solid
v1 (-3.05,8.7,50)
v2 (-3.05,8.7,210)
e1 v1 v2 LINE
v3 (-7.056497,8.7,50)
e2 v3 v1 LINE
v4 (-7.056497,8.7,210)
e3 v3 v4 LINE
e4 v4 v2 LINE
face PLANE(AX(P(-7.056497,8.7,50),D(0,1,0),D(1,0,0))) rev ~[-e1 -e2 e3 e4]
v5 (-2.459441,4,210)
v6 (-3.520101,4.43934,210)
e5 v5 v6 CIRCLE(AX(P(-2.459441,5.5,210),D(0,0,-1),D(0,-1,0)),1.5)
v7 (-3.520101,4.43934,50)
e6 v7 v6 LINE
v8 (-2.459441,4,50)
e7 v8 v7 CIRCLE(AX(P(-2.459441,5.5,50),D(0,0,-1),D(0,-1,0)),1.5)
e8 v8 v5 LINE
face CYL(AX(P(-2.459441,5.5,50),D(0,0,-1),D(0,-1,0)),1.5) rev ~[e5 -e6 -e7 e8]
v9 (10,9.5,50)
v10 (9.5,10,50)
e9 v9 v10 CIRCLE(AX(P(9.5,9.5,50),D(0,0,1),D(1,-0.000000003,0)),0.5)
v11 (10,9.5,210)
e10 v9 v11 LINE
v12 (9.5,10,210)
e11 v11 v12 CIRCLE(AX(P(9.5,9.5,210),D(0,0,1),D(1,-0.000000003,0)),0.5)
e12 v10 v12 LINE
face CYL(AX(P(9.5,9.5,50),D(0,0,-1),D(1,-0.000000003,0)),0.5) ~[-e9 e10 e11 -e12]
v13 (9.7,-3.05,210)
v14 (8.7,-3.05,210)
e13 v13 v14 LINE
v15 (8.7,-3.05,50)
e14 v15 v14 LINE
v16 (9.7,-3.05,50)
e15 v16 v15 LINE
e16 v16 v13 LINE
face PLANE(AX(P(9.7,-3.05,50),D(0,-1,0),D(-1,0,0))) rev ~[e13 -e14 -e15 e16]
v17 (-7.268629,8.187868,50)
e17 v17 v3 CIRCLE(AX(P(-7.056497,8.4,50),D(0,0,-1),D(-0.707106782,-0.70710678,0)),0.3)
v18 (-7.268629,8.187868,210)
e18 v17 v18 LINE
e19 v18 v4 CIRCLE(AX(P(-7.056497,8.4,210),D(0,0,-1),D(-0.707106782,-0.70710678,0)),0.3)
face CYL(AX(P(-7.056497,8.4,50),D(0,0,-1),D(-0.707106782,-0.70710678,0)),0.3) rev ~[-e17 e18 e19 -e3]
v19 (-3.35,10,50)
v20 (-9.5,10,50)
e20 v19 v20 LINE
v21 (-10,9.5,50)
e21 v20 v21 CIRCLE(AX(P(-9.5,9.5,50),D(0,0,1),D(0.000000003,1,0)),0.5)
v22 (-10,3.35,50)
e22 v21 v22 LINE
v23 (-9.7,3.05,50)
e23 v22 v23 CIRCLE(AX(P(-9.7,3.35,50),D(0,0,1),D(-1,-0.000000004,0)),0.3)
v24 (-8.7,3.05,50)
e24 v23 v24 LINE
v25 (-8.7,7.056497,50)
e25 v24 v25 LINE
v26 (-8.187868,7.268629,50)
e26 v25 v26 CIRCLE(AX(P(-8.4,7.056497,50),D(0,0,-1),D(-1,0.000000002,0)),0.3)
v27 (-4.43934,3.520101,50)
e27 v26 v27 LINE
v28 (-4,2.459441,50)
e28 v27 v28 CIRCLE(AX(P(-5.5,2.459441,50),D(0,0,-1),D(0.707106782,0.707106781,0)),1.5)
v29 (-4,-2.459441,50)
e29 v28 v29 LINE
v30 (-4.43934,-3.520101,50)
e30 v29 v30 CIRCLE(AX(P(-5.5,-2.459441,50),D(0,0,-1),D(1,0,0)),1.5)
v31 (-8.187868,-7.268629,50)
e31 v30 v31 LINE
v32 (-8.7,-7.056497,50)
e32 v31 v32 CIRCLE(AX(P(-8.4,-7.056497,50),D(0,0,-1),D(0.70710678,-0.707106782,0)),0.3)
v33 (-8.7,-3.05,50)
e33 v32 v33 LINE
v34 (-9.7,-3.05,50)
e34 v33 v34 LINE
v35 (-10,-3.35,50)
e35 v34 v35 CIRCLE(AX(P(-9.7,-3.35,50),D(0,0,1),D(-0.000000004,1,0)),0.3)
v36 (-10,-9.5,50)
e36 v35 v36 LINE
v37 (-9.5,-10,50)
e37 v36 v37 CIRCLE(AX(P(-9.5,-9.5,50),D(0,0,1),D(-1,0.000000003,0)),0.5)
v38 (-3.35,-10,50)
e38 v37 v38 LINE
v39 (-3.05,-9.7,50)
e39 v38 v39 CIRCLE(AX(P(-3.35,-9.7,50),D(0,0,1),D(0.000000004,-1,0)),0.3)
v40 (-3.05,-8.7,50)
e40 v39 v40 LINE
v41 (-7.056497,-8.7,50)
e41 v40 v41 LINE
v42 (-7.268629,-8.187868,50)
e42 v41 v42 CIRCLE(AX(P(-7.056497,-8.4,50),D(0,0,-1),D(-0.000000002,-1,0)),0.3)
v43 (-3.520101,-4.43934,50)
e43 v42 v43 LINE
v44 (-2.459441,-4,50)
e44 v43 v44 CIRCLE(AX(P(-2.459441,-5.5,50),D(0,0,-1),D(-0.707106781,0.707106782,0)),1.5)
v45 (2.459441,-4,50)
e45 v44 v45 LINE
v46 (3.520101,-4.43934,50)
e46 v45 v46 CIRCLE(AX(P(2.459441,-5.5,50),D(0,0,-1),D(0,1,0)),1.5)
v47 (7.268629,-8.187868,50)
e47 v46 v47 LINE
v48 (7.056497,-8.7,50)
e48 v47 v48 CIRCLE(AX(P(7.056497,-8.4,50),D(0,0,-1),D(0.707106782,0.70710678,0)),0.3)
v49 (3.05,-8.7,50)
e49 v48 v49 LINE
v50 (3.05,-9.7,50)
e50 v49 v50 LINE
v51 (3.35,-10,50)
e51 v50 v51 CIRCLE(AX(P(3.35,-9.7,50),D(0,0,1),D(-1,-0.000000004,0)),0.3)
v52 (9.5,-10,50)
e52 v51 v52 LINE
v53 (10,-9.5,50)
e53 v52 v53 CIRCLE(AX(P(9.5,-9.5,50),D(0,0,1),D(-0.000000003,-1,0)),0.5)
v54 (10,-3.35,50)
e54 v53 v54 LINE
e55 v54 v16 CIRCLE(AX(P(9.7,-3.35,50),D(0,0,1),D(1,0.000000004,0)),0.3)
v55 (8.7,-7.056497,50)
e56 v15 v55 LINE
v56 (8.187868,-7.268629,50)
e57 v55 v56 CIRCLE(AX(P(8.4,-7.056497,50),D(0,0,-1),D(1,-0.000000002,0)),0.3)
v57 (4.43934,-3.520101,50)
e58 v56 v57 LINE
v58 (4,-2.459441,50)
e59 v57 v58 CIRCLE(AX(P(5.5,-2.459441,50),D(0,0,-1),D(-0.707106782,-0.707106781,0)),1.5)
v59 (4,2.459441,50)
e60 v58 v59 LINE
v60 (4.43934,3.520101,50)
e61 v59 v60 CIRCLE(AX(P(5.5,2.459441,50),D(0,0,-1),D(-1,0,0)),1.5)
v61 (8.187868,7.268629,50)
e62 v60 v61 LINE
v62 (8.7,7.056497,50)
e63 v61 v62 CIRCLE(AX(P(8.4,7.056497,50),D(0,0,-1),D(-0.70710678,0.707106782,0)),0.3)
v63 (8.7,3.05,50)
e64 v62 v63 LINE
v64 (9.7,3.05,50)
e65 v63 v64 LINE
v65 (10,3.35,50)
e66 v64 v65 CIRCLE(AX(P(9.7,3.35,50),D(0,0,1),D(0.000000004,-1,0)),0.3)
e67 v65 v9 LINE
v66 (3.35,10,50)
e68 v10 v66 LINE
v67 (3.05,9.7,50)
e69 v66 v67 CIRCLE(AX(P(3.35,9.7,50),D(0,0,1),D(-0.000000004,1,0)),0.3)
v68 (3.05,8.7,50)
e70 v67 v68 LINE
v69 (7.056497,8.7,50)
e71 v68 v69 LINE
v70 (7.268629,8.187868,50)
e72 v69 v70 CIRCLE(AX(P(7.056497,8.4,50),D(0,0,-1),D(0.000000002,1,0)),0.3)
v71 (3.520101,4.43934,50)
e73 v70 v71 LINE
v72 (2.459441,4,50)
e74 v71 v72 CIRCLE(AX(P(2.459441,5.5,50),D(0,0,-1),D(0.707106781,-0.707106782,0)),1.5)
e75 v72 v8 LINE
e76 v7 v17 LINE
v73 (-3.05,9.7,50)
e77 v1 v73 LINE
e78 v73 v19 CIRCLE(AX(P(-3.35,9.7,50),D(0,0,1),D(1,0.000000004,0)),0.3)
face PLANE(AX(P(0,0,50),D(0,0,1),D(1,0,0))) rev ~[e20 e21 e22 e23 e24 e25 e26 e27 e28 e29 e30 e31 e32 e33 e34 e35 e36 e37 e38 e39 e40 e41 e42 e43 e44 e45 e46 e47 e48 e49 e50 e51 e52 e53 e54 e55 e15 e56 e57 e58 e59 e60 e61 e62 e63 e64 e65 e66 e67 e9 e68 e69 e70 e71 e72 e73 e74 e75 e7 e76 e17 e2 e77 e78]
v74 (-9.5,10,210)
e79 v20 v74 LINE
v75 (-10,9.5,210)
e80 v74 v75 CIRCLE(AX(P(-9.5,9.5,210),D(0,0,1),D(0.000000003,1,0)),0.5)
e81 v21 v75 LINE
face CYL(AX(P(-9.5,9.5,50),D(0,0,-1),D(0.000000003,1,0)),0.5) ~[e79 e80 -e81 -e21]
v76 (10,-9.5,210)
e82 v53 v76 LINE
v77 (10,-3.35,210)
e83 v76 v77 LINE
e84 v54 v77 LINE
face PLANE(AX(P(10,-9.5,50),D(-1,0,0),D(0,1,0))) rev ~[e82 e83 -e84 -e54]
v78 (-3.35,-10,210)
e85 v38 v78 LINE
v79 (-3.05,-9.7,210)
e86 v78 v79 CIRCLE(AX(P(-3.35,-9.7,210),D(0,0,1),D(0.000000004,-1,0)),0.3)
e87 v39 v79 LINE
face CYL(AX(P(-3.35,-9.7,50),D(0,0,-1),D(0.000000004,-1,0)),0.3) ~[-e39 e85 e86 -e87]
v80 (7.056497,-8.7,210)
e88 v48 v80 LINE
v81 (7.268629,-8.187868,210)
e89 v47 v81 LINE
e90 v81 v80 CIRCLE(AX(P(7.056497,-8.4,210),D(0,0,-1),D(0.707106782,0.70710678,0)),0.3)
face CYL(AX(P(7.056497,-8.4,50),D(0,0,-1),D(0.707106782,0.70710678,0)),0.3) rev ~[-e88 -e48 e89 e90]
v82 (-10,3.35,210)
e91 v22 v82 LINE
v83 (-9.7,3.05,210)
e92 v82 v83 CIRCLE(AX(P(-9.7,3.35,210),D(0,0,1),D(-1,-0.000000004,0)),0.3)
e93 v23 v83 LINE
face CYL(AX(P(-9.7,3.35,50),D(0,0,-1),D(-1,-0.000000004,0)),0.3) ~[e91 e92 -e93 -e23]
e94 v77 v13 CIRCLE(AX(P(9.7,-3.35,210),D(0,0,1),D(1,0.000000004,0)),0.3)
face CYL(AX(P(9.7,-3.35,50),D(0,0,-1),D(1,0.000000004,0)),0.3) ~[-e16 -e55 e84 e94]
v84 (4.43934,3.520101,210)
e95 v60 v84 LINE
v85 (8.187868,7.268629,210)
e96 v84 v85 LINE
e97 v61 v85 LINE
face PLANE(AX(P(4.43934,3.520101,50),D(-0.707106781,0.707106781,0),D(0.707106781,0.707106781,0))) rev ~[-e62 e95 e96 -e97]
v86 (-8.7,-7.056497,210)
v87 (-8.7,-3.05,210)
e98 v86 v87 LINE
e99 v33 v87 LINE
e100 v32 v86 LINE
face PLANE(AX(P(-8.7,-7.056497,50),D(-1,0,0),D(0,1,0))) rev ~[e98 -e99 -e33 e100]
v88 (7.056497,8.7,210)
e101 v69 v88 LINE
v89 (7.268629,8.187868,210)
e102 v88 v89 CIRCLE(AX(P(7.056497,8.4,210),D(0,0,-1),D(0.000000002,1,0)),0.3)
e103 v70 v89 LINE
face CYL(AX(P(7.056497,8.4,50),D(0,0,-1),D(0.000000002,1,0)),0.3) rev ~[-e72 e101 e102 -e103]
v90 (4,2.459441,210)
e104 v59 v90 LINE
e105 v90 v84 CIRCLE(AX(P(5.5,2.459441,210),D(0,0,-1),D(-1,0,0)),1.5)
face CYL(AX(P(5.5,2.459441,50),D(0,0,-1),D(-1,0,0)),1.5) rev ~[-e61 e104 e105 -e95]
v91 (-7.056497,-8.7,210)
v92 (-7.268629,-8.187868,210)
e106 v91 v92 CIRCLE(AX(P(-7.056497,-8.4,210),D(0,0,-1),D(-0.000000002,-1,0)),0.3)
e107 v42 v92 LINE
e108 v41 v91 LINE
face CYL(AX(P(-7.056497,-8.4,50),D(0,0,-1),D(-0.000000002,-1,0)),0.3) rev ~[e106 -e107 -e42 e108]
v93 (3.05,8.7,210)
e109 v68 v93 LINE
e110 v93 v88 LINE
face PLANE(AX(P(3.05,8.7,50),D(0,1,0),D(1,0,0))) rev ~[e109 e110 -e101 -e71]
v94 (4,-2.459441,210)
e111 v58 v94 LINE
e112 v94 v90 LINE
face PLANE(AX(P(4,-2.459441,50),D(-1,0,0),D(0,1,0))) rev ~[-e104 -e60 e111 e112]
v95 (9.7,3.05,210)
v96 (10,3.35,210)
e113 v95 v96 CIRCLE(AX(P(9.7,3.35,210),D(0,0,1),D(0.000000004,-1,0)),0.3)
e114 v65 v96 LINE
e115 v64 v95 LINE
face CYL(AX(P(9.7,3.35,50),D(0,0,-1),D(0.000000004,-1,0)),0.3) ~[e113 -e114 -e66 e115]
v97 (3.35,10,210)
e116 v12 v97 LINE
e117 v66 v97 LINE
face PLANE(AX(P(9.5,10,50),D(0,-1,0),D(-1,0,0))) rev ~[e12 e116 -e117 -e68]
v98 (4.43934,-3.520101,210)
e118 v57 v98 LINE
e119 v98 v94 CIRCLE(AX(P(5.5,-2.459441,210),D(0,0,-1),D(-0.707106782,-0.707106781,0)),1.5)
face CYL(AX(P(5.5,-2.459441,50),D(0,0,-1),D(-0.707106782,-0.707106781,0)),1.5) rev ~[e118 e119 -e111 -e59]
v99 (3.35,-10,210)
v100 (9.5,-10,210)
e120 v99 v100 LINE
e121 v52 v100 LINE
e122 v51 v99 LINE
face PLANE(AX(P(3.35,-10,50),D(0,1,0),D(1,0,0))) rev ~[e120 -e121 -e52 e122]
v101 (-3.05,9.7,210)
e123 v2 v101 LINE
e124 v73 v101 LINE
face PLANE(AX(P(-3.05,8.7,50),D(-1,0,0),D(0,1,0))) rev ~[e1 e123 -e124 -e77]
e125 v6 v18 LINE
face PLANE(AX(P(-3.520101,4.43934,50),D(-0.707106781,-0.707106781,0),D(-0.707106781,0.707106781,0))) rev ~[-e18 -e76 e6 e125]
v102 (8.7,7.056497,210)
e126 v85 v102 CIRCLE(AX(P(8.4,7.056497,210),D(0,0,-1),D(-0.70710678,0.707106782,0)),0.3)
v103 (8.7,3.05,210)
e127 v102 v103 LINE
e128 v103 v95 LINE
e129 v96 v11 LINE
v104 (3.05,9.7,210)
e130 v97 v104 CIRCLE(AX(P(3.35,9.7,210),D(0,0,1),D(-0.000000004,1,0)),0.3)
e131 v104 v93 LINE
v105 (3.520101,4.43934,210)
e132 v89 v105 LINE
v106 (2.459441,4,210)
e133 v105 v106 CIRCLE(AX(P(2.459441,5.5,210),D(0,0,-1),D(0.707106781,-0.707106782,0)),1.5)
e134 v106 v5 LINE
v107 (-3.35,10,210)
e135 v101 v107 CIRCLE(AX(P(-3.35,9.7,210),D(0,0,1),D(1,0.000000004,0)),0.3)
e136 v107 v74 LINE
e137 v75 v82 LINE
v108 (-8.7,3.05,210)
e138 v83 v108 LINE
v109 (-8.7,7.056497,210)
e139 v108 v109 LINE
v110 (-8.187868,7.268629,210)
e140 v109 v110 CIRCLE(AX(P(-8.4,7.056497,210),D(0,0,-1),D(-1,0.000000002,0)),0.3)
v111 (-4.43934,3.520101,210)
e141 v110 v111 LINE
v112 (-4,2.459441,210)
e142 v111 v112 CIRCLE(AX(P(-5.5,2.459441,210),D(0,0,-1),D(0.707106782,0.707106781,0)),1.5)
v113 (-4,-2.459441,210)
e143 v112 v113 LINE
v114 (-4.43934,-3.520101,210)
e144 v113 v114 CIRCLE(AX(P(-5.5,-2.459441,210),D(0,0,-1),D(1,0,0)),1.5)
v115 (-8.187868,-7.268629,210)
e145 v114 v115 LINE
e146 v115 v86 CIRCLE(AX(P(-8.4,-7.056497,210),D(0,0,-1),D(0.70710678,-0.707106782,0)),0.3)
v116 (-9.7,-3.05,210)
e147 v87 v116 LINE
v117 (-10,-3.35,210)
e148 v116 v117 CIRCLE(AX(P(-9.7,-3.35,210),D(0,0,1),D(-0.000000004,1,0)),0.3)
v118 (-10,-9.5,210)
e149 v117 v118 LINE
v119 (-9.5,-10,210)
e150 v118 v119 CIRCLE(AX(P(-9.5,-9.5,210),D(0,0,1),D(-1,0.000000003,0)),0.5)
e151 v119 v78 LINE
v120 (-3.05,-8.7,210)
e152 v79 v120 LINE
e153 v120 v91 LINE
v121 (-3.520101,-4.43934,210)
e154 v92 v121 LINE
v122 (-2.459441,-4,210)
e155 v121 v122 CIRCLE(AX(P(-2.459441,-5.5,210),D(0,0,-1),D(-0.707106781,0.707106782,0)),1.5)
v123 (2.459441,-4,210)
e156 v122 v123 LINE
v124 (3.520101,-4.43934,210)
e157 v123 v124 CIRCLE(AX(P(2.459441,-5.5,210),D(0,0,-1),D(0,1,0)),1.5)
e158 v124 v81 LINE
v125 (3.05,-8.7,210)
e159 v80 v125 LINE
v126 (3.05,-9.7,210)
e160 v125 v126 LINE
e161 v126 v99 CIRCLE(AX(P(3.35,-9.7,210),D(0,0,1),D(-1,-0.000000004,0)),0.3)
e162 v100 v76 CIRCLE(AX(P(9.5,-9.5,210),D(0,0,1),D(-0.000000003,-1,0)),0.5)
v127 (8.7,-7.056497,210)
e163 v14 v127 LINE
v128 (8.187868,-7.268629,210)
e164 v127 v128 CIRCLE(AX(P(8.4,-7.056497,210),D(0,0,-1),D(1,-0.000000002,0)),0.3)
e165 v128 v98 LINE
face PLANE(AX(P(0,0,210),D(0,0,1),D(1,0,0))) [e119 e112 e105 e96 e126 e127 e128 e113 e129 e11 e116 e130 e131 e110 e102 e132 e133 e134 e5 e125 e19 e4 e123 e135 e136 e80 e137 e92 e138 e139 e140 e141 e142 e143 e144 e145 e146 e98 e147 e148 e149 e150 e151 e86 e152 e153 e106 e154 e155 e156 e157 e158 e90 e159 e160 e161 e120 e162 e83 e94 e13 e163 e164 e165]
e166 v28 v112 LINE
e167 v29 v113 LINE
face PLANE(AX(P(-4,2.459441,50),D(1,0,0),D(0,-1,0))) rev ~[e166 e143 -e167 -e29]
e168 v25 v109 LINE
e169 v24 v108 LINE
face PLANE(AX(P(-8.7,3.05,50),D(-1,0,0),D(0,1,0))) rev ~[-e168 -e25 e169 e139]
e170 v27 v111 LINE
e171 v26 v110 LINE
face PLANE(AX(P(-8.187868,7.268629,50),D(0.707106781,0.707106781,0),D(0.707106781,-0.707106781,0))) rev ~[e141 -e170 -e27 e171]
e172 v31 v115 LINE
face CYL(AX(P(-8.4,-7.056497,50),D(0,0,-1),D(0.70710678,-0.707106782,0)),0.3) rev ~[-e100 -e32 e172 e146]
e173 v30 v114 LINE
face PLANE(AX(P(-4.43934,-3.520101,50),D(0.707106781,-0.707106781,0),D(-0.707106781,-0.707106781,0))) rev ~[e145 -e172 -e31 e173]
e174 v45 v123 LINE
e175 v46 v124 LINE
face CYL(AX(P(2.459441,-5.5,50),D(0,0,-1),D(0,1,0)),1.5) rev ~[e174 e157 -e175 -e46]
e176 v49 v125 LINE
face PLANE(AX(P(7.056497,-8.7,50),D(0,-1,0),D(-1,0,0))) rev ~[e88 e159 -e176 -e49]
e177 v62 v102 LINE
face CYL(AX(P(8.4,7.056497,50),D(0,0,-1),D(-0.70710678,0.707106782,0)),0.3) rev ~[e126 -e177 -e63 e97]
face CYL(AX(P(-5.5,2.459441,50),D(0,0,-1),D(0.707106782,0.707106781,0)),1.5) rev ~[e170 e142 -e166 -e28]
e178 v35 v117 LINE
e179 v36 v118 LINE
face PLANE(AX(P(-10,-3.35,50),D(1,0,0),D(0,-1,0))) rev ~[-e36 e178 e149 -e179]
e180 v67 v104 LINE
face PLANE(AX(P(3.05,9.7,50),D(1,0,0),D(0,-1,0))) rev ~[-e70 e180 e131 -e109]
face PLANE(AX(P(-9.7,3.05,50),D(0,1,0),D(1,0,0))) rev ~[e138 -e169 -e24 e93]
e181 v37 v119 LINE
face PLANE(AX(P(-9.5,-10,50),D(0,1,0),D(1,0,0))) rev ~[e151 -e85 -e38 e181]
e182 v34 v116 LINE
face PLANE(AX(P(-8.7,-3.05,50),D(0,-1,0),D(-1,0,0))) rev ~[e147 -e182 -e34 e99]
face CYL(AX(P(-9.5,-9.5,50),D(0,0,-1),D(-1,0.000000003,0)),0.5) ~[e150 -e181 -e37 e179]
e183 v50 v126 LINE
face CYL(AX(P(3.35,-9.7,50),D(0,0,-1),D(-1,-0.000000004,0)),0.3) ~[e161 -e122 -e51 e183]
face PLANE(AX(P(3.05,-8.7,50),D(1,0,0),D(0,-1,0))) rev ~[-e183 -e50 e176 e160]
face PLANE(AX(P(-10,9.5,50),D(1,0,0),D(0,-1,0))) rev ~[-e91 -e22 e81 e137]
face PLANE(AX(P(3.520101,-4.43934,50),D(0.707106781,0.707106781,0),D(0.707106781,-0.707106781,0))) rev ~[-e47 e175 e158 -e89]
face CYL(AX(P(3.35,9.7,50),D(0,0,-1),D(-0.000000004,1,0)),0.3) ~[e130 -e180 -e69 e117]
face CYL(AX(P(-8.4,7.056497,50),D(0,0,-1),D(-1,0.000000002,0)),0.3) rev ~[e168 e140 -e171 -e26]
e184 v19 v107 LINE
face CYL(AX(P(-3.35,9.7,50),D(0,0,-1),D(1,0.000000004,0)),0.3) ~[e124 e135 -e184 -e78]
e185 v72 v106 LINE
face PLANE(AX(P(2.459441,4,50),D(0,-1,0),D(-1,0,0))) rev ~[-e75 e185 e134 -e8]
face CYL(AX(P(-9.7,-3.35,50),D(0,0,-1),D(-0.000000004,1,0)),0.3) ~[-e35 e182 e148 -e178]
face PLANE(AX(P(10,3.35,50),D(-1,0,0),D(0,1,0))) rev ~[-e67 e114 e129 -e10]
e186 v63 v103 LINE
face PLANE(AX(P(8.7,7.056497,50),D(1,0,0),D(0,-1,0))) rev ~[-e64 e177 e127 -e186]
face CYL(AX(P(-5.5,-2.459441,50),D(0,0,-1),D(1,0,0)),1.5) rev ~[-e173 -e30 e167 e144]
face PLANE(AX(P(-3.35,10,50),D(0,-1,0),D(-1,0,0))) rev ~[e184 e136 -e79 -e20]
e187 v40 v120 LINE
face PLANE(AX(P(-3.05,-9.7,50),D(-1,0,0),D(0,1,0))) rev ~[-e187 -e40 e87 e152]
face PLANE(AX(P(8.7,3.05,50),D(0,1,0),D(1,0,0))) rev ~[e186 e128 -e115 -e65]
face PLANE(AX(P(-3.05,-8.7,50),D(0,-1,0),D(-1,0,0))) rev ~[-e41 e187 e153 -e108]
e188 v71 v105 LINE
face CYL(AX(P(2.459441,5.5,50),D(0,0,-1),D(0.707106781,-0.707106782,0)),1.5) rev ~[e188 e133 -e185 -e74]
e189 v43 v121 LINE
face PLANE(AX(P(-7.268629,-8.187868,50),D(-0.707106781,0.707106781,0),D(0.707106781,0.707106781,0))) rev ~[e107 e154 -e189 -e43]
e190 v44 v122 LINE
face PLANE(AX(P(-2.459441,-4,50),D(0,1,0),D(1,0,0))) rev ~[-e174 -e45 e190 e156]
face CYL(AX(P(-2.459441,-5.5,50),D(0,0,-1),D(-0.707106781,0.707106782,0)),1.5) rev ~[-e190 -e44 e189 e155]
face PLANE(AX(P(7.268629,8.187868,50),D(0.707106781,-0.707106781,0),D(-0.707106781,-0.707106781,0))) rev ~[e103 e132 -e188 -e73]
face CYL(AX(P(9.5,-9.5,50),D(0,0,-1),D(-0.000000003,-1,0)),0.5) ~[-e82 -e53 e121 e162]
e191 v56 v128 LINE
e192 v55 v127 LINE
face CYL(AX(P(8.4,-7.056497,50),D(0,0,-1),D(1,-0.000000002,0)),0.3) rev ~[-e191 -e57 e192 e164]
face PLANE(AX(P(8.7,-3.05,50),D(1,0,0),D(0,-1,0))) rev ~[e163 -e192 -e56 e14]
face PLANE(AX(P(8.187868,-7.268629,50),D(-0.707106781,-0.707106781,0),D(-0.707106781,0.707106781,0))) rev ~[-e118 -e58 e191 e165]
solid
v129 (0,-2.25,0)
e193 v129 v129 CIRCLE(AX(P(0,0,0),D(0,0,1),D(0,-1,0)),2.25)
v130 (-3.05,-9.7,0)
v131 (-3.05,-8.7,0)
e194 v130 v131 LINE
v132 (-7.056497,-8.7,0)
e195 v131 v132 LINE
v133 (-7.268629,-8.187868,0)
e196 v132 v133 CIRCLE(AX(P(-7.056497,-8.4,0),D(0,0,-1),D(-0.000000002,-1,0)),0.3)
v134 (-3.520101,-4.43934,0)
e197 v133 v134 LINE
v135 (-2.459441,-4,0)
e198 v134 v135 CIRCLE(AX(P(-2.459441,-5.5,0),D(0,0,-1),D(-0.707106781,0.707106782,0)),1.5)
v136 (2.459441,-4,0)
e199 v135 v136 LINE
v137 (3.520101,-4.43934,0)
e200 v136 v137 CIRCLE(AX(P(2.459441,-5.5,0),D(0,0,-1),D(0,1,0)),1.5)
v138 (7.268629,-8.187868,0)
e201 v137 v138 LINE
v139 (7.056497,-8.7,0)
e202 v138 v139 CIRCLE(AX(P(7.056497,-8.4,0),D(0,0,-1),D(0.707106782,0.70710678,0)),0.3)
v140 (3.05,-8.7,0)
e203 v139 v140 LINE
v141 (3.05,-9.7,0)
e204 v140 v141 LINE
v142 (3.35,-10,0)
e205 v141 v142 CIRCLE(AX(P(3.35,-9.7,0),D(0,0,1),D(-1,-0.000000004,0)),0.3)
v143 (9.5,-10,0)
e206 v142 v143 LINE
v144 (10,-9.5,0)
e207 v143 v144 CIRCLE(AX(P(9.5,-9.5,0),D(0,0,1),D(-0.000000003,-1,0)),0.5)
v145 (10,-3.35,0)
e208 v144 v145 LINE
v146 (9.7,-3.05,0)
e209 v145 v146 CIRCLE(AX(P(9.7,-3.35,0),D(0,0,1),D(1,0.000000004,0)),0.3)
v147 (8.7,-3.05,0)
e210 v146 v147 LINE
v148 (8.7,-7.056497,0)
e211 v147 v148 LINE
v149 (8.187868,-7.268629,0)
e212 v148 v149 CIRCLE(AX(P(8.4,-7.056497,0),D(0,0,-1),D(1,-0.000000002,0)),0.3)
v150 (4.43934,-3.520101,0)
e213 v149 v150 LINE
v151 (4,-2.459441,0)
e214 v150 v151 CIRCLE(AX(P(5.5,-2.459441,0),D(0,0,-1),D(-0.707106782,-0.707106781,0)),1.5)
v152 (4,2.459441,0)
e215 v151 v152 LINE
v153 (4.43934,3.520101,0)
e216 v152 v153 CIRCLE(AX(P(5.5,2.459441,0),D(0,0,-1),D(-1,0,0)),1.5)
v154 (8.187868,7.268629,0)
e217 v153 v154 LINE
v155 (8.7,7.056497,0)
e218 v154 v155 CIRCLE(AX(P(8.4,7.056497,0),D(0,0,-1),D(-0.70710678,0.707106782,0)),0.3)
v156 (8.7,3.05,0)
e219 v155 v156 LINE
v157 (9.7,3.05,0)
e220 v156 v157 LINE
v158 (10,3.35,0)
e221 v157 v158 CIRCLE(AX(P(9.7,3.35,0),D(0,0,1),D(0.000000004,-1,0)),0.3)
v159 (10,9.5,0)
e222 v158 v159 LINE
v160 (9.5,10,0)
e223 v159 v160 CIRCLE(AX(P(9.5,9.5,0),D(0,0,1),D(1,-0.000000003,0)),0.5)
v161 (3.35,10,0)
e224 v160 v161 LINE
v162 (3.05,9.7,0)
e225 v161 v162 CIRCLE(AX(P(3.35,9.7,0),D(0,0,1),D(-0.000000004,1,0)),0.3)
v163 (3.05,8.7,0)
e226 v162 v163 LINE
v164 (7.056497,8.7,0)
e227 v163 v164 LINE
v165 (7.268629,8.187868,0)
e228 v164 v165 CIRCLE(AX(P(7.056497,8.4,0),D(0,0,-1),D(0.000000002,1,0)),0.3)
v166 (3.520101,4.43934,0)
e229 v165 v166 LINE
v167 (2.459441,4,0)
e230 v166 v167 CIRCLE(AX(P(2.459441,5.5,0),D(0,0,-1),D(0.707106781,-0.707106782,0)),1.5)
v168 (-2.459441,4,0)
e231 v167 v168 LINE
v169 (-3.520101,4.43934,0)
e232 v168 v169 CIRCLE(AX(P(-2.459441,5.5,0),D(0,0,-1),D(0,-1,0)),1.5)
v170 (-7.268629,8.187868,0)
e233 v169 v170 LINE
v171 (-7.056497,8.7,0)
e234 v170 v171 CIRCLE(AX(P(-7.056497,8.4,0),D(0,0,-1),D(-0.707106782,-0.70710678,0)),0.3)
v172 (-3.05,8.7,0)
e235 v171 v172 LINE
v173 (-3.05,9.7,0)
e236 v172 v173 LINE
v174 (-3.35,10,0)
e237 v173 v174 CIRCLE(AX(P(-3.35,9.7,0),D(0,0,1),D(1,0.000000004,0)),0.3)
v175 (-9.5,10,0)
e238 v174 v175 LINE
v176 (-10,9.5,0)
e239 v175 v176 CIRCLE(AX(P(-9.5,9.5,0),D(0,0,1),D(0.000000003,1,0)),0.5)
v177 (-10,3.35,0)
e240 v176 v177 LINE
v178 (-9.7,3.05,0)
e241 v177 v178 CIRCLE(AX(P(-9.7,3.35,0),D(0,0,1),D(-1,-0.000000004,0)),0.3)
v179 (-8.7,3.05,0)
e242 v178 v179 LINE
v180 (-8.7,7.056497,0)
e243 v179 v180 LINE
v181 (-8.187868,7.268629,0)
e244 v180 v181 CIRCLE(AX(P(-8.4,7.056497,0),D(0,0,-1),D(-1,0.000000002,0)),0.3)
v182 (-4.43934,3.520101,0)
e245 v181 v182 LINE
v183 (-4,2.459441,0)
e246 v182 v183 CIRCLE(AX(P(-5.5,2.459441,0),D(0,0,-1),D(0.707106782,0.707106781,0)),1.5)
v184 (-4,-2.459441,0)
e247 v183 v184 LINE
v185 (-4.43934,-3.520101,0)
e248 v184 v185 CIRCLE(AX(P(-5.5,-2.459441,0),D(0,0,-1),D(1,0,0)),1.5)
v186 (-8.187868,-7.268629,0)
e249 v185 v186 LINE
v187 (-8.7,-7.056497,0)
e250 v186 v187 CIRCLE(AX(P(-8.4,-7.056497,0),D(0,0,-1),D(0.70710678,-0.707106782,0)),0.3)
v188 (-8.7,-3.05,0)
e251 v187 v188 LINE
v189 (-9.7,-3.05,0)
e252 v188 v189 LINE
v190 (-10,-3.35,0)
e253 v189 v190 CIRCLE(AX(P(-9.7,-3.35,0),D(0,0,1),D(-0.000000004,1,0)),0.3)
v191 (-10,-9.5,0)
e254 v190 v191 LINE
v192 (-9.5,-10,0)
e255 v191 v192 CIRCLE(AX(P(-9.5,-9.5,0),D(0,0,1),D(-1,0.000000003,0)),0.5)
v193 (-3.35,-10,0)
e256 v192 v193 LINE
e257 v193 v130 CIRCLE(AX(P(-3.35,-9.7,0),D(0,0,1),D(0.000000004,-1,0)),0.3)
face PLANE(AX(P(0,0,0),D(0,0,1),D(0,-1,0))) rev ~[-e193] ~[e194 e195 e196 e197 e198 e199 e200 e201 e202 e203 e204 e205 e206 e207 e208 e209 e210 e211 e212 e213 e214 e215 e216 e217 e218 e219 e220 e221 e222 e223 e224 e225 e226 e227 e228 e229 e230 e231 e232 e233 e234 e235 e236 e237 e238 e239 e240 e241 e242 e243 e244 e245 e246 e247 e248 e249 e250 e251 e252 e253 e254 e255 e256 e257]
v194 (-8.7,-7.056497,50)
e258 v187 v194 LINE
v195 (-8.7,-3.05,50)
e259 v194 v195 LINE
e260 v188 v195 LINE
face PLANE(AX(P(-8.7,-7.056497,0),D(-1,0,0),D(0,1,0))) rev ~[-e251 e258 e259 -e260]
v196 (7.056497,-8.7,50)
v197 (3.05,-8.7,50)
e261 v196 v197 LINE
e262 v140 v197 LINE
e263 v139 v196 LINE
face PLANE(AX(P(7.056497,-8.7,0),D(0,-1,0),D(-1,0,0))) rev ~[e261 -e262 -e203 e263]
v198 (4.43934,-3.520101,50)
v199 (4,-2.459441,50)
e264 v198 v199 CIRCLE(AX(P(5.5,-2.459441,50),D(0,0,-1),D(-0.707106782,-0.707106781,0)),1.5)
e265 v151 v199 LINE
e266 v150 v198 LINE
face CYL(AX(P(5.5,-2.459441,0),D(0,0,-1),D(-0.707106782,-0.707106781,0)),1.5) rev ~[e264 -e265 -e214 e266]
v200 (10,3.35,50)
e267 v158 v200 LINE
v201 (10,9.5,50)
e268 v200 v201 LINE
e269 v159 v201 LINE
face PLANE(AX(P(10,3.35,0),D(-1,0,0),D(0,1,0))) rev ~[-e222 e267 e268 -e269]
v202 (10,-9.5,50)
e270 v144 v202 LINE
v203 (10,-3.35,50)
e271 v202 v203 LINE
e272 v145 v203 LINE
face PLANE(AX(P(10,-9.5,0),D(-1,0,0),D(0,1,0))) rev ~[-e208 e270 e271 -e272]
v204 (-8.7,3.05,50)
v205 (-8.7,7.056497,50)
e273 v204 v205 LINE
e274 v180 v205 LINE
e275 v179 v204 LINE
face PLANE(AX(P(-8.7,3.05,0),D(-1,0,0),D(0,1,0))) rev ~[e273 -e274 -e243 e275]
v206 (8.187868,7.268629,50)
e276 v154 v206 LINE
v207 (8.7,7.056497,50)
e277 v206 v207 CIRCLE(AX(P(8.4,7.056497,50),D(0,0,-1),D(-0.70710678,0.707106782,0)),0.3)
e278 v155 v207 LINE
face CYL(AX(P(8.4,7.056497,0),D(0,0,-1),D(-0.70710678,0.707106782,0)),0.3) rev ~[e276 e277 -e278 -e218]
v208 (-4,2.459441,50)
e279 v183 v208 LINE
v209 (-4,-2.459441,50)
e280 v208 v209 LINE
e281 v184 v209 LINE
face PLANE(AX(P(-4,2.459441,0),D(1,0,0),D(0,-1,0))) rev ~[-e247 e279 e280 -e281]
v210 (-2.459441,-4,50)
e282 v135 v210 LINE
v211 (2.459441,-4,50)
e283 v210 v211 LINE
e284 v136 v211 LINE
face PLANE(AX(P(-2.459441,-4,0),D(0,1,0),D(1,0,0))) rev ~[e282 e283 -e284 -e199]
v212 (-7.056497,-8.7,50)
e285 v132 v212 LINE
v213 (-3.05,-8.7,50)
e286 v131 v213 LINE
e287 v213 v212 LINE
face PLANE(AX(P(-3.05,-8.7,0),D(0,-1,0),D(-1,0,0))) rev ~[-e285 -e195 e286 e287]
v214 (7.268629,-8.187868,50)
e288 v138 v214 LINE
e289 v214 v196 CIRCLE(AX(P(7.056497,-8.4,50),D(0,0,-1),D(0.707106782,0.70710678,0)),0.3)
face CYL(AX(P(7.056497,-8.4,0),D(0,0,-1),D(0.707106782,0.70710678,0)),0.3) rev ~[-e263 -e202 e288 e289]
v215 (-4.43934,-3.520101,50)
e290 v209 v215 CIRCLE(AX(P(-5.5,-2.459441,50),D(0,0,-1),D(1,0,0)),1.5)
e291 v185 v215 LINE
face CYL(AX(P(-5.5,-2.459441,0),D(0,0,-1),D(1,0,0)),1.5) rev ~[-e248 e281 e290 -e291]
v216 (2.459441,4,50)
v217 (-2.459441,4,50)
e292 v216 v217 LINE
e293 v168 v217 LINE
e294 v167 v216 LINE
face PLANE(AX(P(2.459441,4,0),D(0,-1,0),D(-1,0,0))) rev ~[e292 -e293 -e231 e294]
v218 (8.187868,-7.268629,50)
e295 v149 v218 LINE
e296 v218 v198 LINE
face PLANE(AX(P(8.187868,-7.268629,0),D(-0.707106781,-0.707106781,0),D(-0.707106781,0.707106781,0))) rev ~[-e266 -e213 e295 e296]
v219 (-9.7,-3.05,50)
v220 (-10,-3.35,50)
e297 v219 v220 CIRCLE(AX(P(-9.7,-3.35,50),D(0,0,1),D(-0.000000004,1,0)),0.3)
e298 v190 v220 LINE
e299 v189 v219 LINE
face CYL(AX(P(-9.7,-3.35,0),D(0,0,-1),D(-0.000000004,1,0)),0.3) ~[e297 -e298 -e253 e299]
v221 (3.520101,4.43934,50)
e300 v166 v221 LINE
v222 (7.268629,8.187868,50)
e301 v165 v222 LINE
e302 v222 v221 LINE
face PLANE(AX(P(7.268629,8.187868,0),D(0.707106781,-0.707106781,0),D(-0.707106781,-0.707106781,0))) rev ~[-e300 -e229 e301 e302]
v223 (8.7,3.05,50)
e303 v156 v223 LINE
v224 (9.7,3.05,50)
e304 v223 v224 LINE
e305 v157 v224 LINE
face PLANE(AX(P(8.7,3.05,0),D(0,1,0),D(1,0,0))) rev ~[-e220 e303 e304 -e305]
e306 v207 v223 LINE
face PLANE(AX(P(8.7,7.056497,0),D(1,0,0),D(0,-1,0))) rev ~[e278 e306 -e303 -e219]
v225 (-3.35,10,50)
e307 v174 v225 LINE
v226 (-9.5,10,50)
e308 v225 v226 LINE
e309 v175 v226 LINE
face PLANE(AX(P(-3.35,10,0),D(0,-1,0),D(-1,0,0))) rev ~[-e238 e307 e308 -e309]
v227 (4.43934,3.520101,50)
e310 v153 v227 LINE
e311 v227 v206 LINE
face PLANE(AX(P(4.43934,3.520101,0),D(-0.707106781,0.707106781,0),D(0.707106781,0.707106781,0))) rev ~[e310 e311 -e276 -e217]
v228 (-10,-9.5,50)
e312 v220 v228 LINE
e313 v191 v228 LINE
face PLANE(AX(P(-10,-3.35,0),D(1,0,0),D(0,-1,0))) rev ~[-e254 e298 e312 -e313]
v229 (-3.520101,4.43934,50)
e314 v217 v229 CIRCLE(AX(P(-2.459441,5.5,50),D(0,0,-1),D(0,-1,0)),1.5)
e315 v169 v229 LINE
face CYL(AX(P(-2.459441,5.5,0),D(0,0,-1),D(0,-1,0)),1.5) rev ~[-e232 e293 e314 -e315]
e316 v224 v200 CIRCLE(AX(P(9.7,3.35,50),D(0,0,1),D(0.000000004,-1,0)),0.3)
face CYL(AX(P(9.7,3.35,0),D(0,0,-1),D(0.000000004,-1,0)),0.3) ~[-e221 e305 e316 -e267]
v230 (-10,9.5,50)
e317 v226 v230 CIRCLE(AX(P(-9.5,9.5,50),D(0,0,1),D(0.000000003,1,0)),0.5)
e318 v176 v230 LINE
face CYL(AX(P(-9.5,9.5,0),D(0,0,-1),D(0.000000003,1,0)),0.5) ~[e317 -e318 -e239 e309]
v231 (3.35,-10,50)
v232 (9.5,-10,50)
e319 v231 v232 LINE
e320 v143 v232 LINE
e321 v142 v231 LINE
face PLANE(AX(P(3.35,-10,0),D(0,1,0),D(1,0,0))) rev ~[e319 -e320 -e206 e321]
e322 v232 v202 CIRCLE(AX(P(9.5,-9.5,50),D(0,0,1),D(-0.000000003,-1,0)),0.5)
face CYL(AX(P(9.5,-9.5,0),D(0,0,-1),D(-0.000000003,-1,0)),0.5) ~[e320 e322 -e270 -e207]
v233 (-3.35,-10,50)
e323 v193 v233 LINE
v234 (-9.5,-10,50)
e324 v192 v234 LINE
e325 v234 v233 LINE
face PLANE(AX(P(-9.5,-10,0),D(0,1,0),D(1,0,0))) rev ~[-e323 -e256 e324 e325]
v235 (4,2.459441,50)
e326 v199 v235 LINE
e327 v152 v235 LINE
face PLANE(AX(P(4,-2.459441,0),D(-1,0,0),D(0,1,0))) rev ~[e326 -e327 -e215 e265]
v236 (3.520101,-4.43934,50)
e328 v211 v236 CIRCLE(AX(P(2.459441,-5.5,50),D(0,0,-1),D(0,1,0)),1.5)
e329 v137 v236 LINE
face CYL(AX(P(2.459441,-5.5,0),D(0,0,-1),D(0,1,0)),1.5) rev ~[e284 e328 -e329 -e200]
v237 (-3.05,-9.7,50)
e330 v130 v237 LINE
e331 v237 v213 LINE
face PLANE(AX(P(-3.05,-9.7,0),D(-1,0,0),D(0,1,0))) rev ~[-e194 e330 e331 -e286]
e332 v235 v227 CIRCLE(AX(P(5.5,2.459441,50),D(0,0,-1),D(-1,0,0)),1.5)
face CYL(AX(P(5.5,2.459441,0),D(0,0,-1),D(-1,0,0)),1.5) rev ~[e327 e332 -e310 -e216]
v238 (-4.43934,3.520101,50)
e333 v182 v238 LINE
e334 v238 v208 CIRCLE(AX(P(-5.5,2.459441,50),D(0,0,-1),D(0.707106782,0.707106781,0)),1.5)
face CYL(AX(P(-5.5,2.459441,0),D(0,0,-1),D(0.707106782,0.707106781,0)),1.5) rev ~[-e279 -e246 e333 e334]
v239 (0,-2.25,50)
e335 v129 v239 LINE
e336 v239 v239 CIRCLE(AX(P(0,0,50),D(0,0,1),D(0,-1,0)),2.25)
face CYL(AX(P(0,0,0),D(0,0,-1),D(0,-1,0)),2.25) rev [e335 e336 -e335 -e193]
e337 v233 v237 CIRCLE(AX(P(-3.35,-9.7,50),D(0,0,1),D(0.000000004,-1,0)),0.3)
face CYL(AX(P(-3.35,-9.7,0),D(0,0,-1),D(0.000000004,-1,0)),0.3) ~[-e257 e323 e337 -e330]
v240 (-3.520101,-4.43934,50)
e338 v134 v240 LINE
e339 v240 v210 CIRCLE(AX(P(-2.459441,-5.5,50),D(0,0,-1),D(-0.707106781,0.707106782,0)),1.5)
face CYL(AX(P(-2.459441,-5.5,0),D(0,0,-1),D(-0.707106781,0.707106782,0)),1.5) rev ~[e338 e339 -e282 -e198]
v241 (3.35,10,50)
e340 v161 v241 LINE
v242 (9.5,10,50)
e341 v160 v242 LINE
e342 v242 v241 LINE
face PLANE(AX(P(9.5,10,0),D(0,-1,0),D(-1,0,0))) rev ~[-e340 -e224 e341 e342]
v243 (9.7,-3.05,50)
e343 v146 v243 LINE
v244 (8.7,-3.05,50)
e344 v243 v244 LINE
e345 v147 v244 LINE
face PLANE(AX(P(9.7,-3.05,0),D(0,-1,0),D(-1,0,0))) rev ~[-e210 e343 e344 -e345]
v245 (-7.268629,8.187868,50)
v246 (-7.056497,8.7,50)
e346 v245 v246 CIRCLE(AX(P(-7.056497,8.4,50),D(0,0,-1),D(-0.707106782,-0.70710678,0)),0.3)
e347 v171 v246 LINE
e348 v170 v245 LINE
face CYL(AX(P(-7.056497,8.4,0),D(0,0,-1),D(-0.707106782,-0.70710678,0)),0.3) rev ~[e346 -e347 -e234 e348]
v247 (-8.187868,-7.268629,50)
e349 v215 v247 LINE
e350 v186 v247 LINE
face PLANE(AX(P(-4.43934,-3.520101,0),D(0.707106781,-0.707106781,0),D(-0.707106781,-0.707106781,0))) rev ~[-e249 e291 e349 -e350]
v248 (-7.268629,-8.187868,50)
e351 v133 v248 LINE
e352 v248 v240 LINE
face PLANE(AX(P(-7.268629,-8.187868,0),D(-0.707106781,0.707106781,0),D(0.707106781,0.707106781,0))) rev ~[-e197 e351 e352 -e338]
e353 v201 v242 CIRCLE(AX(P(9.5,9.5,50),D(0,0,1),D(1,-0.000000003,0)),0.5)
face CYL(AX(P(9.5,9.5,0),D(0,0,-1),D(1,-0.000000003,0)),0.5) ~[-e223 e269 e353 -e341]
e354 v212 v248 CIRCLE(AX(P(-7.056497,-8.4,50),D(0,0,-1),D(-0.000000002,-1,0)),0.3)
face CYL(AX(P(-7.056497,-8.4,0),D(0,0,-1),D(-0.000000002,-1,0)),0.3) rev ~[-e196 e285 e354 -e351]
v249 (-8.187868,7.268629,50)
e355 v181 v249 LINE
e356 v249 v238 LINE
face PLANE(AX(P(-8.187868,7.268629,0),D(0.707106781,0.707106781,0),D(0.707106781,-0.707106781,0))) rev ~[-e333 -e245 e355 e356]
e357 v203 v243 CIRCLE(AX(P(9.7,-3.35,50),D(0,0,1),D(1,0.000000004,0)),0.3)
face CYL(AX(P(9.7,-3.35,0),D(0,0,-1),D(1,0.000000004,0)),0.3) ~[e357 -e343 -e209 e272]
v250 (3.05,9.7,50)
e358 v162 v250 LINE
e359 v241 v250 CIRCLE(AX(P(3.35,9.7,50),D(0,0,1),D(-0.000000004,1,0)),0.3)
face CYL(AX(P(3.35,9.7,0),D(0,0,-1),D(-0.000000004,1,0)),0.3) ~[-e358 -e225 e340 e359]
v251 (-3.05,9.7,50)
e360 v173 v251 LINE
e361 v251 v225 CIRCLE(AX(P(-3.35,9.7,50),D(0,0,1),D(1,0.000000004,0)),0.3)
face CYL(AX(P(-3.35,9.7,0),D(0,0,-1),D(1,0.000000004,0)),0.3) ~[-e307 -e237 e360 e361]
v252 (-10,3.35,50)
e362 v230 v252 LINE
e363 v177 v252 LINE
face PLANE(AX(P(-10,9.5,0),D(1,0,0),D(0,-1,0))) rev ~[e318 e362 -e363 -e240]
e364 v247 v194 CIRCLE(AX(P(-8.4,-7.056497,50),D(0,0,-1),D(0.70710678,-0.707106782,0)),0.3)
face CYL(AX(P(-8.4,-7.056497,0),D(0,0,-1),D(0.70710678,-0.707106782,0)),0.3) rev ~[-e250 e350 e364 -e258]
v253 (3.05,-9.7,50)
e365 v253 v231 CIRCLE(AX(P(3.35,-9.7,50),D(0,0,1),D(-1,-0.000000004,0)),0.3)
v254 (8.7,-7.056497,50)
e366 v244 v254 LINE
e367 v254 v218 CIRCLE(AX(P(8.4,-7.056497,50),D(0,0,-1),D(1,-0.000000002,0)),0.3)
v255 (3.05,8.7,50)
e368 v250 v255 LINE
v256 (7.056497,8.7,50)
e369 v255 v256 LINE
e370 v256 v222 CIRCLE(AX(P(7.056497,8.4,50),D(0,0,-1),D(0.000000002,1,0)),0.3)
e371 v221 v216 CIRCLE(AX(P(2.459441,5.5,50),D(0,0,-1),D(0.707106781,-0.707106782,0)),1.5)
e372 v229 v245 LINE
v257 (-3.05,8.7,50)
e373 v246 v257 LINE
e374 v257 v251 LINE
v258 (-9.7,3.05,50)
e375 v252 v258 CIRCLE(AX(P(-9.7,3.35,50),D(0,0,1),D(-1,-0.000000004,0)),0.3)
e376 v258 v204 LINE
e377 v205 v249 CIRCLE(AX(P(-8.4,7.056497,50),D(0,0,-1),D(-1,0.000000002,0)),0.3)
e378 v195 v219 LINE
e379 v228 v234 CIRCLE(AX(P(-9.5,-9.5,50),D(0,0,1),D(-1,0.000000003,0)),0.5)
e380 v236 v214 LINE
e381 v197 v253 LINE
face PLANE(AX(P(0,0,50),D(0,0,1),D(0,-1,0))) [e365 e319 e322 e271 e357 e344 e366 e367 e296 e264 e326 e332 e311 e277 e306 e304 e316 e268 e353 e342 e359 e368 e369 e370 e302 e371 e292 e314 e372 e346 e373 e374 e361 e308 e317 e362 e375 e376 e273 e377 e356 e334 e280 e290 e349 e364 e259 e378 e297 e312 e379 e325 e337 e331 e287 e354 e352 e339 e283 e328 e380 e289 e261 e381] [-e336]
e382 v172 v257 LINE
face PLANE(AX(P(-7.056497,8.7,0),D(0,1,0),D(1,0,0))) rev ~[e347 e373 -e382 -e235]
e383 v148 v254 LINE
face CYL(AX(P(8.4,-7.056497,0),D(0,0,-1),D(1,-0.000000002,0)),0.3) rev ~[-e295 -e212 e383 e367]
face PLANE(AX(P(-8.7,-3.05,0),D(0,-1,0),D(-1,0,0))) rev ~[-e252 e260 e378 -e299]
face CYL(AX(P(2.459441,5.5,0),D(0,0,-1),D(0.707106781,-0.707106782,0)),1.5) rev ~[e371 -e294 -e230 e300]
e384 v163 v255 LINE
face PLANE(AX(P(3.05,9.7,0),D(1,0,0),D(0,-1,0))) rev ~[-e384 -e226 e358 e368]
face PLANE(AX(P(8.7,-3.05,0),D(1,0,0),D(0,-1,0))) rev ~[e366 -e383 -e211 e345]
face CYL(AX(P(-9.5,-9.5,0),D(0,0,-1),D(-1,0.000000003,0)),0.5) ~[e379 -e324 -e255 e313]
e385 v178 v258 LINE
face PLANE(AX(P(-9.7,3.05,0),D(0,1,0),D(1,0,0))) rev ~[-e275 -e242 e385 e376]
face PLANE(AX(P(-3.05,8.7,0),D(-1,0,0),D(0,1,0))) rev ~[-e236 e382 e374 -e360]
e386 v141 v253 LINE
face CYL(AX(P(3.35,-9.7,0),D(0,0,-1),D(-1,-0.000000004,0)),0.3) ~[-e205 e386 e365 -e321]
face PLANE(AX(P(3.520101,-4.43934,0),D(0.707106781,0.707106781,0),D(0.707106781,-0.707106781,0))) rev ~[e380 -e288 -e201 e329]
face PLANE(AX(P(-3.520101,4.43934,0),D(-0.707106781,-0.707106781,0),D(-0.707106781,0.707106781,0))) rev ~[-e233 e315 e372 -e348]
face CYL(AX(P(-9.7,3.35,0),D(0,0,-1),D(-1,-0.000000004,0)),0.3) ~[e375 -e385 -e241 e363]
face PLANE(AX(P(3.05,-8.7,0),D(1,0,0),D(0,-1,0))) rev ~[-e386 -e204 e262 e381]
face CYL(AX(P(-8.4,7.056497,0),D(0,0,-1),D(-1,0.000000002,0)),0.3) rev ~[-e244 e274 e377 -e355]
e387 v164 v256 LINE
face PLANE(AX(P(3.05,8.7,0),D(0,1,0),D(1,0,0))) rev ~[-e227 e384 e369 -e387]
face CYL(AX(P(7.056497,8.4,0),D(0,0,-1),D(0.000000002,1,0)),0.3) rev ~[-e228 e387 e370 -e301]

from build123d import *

# Parameters (mm, degrees)
ESBO_O11_R                                   = 2.25
QUADRADO_PF20_21_PERFIL_2020_T_SLOT_6M_DEPTH = 50
SALIENTE_EXTRUIR1_DEPTH                      = 160


with BuildPart() as part:
    # Esboço11 → Quadrado PF20-21 - PERFIL 2020 T-SLOT 6MM(1) (new body)
    with BuildSketch(Plane(origin=(0, 0, 0), x_dir=(0, -1, 0), z_dir=(0, 0, 1))):
        with BuildLine():
            Line((8.187867966, -7.26862915), (4.439339828, -3.520101013))
            ThreePointArc((4.439339828, -3.520101013), (4.114180701, -3.033465989), (4, -2.459440841))
            Line((4, -2.459440841), (4, 2.459440841))
            ThreePointArc((4, 2.459440841), (4.114180701, 3.033465989), (4.439339828, 3.520101013))
            Line((4.439339828, 3.520101013), (8.187867966, 7.26862915))
            ThreePointArc((8.187867966, 7.26862915), (8.51480503, 7.333660975), (8.7, 7.056497116))
            Line((8.7, 7.056497116), (8.7, 3.05))
            Line((8.7, 3.05), (9.7, 3.05))
            ThreePointArc((9.7, 3.05), (9.912132034, 3.137867966), (10, 3.35))
            Line((10, 3.35), (10, 9.5))
            ThreePointArc((10, 9.5), (9.853553391, 9.853553391), (9.5, 10))
            Line((9.5, 10), (3.35, 10))
            ThreePointArc((3.35, 10), (3.137867966, 9.912132034), (3.05, 9.7))
            Line((3.05, 9.7), (3.05, 8.7))
            Line((3.05, 8.7), (7.056497116, 8.7))
            ThreePointArc((7.056497116, 8.7), (7.333660975, 8.51480503), (7.26862915, 8.187867966))
            Line((7.26862915, 8.187867966), (3.520101013, 4.439339828))
            ThreePointArc((3.520101013, 4.439339828), (3.033465989, 4.114180701), (2.459440841, 4))
            Line((2.459440841, 4), (-2.459440841, 4))
            ThreePointArc((-2.459440841, 4), (-3.033465989, 4.114180701), (-3.520101013, 4.439339828))
            Line((-3.520101013, 4.439339828), (-7.26862915, 8.187867966))
            ThreePointArc((-7.26862915, 8.187867966), (-7.333660975, 8.51480503), (-7.056497116, 8.7))
            Line((-7.056497116, 8.7), (-3.05, 8.7))
            Line((-3.05, 8.7), (-3.05, 9.7))
            ThreePointArc((-3.05, 9.7), (-3.137867966, 9.912132034), (-3.35, 10))
            Line((-3.35, 10), (-9.5, 10))
            ThreePointArc((-9.5, 10), (-9.853553391, 9.853553391), (-10, 9.5))
            Line((-10, 9.5), (-10, 3.35))
            ThreePointArc((-10, 3.35), (-9.912132034, 3.137867966), (-9.7, 3.05))
            Line((-9.7, 3.05), (-8.7, 3.05))
            Line((-8.7, 3.05), (-8.7, 7.056497116))
            ThreePointArc((-8.7, 7.056497116), (-8.51480503, 7.333660975), (-8.187867966, 7.26862915))
            Line((-8.187867966, 7.26862915), (-4.439339828, 3.520101013))
            ThreePointArc((-4.439339828, 3.520101013), (-4.114180701, 3.033465989), (-4, 2.459440841))
            Line((-4, 2.459440841), (-4, -2.459440841))
            ThreePointArc((-4, -2.459440841), (-4.114180701, -3.033465989), (-4.439339828, -3.520101013))
            Line((-4.439339828, -3.520101013), (-8.187867966, -7.26862915))
            ThreePointArc((-8.187867966, -7.26862915), (-8.51480503, -7.333660975), (-8.7, -7.056497116))
            Line((-8.7, -7.056497116), (-8.7, -3.05))
            Line((-8.7, -3.05), (-9.7, -3.05))
            ThreePointArc((-9.7, -3.05), (-9.912132034, -3.137867966), (-10, -3.35))
            Line((-10, -3.35), (-10, -9.5))
            ThreePointArc((-10, -9.5), (-9.853553391, -9.853553391), (-9.5, -10))
            Line((-9.5, -10), (-3.35, -10))
            ThreePointArc((-3.35, -10), (-3.137867966, -9.912132034), (-3.05, -9.7))
            Line((-3.05, -9.7), (-3.05, -8.7))
            Line((-3.05, -8.7), (-7.056497116, -8.7))
            ThreePointArc((-7.056497116, -8.7), (-7.333660975, -8.51480503), (-7.26862915, -8.187867966))
            Line((-7.26862915, -8.187867966), (-3.520101013, -4.439339828))
            ThreePointArc((-3.520101013, -4.439339828), (-3.033465989, -4.114180701), (-2.459440841, -4))
            Line((-2.459440841, -4), (2.459440841, -4))
            ThreePointArc((2.459440841, -4), (3.033465989, -4.114180701), (3.520101013, -4.439339828))
            Line((3.520101013, -4.439339828), (7.26862915, -8.187867966))
            ThreePointArc((7.26862915, -8.187867966), (7.333660975, -8.51480503), (7.056497116, -8.7))
            Line((7.056497116, -8.7), (3.05, -8.7))
            Line((3.05, -8.7), (3.05, -9.7))
            ThreePointArc((3.05, -9.7), (3.137867966, -9.912132034), (3.35, -10))
            Line((3.35, -10), (9.5, -10))
            ThreePointArc((9.5, -10), (9.853553391, -9.853553391), (10, -9.5))
            Line((10, -9.5), (10, -3.35))
            ThreePointArc((10, -3.35), (9.912132034, -3.137867966), (9.7, -3.05))
            Line((9.7, -3.05), (8.7, -3.05))
            Line((8.7, -3.05), (8.7, -7.056497116))
            ThreePointArc((8.7, -7.056497116), (8.51480503, -7.333660975), (8.187867966, -7.26862915))
        make_face()
        Circle(ESBO_O11_R, mode=Mode.SUBTRACT)
    extrude(amount=QUADRADO_PF20_21_PERFIL_2020_T_SLOT_6M_DEPTH)


with BuildPart() as body_2:
    # Croquis1 → Saliente-Extruir1 (new body)
    with BuildSketch(Plane.XY.offset(50)):
        with BuildLine():
            Line((-7.26862915, -8.187867966), (-3.520101013, -4.439339828))
            ThreePointArc((-3.520101013, -4.439339828), (-3.033465989, -4.114180701), (-2.459440841, -4))
            Line((-2.459440841, -4), (2.459440841, -4))
            ThreePointArc((2.459440841, -4), (3.033465989, -4.114180701), (3.520101013, -4.439339828))
            Line((3.520101013, -4.439339828), (7.26862915, -8.187867966))
            ThreePointArc((7.26862915, -8.187867966), (7.333660975, -8.51480503), (7.056497116, -8.7))
            Line((7.056497116, -8.7), (3.05, -8.7))
            Line((3.05, -8.7), (3.05, -9.7))
            ThreePointArc((3.05, -9.7), (3.137867966, -9.912132034), (3.35, -10))
            Line((3.35, -10), (9.5, -10))
            ThreePointArc((9.5, -10), (9.853553391, -9.853553391), (10, -9.5))
            Line((10, -9.5), (10, -3.35))
            ThreePointArc((10, -3.35), (9.912132034, -3.137867966), (9.7, -3.05))
            Line((9.7, -3.05), (8.7, -3.05))
            Line((8.7, -3.05), (8.7, -7.056497116))
            ThreePointArc((8.7, -7.056497116), (8.51480503, -7.333660975), (8.187867966, -7.26862915))
            Line((8.187867966, -7.26862915), (4.439339828, -3.520101013))
            ThreePointArc((4.439339828, -3.520101013), (4.114180701, -3.033465989), (4, -2.459440841))
            Line((4, -2.459440841), (4, 2.459440841))
            ThreePointArc((4, 2.459440841), (4.114180701, 3.033465989), (4.439339828, 3.520101013))
            Line((4.439339828, 3.520101013), (8.187867966, 7.26862915))
            ThreePointArc((8.187867966, 7.26862915), (8.51480503, 7.333660975), (8.7, 7.056497116))
            Line((8.7, 7.056497116), (8.7, 3.05))
            Line((8.7, 3.05), (9.7, 3.05))
            ThreePointArc((9.7, 3.05), (9.912132034, 3.137867966), (10, 3.35))
            Line((10, 3.35), (10, 9.5))
            ThreePointArc((10, 9.5), (9.853553391, 9.853553391), (9.5, 10))
            Line((9.5, 10), (3.35, 10))
            ThreePointArc((3.35, 10), (3.137867966, 9.912132034), (3.05, 9.7))
            Line((3.05, 9.7), (3.05, 8.7))
            Line((3.05, 8.7), (7.056497116, 8.7))
            ThreePointArc((7.056497116, 8.7), (7.333660975, 8.51480503), (7.26862915, 8.187867966))
            Line((7.26862915, 8.187867966), (3.520101013, 4.439339828))
            ThreePointArc((3.520101013, 4.439339828), (3.033465989, 4.114180701), (2.459440841, 4))
            Line((2.459440841, 4), (-2.459440841, 4))
            ThreePointArc((-2.459440841, 4), (-3.033465989, 4.114180701), (-3.520101013, 4.439339828))
            Line((-3.520101013, 4.439339828), (-7.26862915, 8.187867966))
            ThreePointArc((-7.26862915, 8.187867966), (-7.333660975, 8.51480503), (-7.056497116, 8.7))
            Line((-7.056497116, 8.7), (-3.05, 8.7))
            Line((-3.05, 8.7), (-3.05, 9.7))
            ThreePointArc((-3.05, 9.7), (-3.137867966, 9.912132034), (-3.35, 10))
            Line((-3.35, 10), (-9.5, 10))
            ThreePointArc((-9.5, 10), (-9.853553391, 9.853553391), (-10, 9.5))
            Line((-10, 9.5), (-10, 3.35))
            ThreePointArc((-10, 3.35), (-9.912132034, 3.137867966), (-9.7, 3.05))
            Line((-9.7, 3.05), (-8.7, 3.05))
            Line((-8.7, 3.05), (-8.7, 7.056497116))
            ThreePointArc((-8.7, 7.056497116), (-8.51480503, 7.333660975), (-8.187867966, 7.26862915))
            Line((-8.187867966, 7.26862915), (-4.439339828, 3.520101013))
            ThreePointArc((-4.439339828, 3.520101013), (-4.114180701, 3.033465989), (-4, 2.459440841))
            Line((-4, 2.459440841), (-4, -2.459440841))
            ThreePointArc((-4, -2.459440841), (-4.114180701, -3.033465989), (-4.439339828, -3.520101013))
            Line((-4.439339828, -3.520101013), (-8.187867966, -7.26862915))
            ThreePointArc((-8.187867966, -7.26862915), (-8.51480503, -7.333660975), (-8.7, -7.056497116))
            Line((-8.7, -7.056497116), (-8.7, -3.05))
            Line((-8.7, -3.05), (-9.7, -3.05))
            ThreePointArc((-9.7, -3.05), (-9.912132034, -3.137867966), (-10, -3.35))
            Line((-10, -3.35), (-10, -9.5))
            ThreePointArc((-10, -9.5), (-9.853553391, -9.853553391), (-9.5, -10))
            Line((-9.5, -10), (-3.35, -10))
            ThreePointArc((-3.35, -10), (-3.137867966, -9.912132034), (-3.05, -9.7))
            Line((-3.05, -9.7), (-3.05, -8.7))
            Line((-3.05, -8.7), (-7.056497116, -8.7))
            ThreePointArc((-7.056497116, -8.7), (-7.333660975, -8.51480503), (-7.26862915, -8.187867966))
        make_face()
    extrude(amount=SALIENTE_EXTRUIR1_DEPTH)


solid = Compound([part.part, body_2.part])
